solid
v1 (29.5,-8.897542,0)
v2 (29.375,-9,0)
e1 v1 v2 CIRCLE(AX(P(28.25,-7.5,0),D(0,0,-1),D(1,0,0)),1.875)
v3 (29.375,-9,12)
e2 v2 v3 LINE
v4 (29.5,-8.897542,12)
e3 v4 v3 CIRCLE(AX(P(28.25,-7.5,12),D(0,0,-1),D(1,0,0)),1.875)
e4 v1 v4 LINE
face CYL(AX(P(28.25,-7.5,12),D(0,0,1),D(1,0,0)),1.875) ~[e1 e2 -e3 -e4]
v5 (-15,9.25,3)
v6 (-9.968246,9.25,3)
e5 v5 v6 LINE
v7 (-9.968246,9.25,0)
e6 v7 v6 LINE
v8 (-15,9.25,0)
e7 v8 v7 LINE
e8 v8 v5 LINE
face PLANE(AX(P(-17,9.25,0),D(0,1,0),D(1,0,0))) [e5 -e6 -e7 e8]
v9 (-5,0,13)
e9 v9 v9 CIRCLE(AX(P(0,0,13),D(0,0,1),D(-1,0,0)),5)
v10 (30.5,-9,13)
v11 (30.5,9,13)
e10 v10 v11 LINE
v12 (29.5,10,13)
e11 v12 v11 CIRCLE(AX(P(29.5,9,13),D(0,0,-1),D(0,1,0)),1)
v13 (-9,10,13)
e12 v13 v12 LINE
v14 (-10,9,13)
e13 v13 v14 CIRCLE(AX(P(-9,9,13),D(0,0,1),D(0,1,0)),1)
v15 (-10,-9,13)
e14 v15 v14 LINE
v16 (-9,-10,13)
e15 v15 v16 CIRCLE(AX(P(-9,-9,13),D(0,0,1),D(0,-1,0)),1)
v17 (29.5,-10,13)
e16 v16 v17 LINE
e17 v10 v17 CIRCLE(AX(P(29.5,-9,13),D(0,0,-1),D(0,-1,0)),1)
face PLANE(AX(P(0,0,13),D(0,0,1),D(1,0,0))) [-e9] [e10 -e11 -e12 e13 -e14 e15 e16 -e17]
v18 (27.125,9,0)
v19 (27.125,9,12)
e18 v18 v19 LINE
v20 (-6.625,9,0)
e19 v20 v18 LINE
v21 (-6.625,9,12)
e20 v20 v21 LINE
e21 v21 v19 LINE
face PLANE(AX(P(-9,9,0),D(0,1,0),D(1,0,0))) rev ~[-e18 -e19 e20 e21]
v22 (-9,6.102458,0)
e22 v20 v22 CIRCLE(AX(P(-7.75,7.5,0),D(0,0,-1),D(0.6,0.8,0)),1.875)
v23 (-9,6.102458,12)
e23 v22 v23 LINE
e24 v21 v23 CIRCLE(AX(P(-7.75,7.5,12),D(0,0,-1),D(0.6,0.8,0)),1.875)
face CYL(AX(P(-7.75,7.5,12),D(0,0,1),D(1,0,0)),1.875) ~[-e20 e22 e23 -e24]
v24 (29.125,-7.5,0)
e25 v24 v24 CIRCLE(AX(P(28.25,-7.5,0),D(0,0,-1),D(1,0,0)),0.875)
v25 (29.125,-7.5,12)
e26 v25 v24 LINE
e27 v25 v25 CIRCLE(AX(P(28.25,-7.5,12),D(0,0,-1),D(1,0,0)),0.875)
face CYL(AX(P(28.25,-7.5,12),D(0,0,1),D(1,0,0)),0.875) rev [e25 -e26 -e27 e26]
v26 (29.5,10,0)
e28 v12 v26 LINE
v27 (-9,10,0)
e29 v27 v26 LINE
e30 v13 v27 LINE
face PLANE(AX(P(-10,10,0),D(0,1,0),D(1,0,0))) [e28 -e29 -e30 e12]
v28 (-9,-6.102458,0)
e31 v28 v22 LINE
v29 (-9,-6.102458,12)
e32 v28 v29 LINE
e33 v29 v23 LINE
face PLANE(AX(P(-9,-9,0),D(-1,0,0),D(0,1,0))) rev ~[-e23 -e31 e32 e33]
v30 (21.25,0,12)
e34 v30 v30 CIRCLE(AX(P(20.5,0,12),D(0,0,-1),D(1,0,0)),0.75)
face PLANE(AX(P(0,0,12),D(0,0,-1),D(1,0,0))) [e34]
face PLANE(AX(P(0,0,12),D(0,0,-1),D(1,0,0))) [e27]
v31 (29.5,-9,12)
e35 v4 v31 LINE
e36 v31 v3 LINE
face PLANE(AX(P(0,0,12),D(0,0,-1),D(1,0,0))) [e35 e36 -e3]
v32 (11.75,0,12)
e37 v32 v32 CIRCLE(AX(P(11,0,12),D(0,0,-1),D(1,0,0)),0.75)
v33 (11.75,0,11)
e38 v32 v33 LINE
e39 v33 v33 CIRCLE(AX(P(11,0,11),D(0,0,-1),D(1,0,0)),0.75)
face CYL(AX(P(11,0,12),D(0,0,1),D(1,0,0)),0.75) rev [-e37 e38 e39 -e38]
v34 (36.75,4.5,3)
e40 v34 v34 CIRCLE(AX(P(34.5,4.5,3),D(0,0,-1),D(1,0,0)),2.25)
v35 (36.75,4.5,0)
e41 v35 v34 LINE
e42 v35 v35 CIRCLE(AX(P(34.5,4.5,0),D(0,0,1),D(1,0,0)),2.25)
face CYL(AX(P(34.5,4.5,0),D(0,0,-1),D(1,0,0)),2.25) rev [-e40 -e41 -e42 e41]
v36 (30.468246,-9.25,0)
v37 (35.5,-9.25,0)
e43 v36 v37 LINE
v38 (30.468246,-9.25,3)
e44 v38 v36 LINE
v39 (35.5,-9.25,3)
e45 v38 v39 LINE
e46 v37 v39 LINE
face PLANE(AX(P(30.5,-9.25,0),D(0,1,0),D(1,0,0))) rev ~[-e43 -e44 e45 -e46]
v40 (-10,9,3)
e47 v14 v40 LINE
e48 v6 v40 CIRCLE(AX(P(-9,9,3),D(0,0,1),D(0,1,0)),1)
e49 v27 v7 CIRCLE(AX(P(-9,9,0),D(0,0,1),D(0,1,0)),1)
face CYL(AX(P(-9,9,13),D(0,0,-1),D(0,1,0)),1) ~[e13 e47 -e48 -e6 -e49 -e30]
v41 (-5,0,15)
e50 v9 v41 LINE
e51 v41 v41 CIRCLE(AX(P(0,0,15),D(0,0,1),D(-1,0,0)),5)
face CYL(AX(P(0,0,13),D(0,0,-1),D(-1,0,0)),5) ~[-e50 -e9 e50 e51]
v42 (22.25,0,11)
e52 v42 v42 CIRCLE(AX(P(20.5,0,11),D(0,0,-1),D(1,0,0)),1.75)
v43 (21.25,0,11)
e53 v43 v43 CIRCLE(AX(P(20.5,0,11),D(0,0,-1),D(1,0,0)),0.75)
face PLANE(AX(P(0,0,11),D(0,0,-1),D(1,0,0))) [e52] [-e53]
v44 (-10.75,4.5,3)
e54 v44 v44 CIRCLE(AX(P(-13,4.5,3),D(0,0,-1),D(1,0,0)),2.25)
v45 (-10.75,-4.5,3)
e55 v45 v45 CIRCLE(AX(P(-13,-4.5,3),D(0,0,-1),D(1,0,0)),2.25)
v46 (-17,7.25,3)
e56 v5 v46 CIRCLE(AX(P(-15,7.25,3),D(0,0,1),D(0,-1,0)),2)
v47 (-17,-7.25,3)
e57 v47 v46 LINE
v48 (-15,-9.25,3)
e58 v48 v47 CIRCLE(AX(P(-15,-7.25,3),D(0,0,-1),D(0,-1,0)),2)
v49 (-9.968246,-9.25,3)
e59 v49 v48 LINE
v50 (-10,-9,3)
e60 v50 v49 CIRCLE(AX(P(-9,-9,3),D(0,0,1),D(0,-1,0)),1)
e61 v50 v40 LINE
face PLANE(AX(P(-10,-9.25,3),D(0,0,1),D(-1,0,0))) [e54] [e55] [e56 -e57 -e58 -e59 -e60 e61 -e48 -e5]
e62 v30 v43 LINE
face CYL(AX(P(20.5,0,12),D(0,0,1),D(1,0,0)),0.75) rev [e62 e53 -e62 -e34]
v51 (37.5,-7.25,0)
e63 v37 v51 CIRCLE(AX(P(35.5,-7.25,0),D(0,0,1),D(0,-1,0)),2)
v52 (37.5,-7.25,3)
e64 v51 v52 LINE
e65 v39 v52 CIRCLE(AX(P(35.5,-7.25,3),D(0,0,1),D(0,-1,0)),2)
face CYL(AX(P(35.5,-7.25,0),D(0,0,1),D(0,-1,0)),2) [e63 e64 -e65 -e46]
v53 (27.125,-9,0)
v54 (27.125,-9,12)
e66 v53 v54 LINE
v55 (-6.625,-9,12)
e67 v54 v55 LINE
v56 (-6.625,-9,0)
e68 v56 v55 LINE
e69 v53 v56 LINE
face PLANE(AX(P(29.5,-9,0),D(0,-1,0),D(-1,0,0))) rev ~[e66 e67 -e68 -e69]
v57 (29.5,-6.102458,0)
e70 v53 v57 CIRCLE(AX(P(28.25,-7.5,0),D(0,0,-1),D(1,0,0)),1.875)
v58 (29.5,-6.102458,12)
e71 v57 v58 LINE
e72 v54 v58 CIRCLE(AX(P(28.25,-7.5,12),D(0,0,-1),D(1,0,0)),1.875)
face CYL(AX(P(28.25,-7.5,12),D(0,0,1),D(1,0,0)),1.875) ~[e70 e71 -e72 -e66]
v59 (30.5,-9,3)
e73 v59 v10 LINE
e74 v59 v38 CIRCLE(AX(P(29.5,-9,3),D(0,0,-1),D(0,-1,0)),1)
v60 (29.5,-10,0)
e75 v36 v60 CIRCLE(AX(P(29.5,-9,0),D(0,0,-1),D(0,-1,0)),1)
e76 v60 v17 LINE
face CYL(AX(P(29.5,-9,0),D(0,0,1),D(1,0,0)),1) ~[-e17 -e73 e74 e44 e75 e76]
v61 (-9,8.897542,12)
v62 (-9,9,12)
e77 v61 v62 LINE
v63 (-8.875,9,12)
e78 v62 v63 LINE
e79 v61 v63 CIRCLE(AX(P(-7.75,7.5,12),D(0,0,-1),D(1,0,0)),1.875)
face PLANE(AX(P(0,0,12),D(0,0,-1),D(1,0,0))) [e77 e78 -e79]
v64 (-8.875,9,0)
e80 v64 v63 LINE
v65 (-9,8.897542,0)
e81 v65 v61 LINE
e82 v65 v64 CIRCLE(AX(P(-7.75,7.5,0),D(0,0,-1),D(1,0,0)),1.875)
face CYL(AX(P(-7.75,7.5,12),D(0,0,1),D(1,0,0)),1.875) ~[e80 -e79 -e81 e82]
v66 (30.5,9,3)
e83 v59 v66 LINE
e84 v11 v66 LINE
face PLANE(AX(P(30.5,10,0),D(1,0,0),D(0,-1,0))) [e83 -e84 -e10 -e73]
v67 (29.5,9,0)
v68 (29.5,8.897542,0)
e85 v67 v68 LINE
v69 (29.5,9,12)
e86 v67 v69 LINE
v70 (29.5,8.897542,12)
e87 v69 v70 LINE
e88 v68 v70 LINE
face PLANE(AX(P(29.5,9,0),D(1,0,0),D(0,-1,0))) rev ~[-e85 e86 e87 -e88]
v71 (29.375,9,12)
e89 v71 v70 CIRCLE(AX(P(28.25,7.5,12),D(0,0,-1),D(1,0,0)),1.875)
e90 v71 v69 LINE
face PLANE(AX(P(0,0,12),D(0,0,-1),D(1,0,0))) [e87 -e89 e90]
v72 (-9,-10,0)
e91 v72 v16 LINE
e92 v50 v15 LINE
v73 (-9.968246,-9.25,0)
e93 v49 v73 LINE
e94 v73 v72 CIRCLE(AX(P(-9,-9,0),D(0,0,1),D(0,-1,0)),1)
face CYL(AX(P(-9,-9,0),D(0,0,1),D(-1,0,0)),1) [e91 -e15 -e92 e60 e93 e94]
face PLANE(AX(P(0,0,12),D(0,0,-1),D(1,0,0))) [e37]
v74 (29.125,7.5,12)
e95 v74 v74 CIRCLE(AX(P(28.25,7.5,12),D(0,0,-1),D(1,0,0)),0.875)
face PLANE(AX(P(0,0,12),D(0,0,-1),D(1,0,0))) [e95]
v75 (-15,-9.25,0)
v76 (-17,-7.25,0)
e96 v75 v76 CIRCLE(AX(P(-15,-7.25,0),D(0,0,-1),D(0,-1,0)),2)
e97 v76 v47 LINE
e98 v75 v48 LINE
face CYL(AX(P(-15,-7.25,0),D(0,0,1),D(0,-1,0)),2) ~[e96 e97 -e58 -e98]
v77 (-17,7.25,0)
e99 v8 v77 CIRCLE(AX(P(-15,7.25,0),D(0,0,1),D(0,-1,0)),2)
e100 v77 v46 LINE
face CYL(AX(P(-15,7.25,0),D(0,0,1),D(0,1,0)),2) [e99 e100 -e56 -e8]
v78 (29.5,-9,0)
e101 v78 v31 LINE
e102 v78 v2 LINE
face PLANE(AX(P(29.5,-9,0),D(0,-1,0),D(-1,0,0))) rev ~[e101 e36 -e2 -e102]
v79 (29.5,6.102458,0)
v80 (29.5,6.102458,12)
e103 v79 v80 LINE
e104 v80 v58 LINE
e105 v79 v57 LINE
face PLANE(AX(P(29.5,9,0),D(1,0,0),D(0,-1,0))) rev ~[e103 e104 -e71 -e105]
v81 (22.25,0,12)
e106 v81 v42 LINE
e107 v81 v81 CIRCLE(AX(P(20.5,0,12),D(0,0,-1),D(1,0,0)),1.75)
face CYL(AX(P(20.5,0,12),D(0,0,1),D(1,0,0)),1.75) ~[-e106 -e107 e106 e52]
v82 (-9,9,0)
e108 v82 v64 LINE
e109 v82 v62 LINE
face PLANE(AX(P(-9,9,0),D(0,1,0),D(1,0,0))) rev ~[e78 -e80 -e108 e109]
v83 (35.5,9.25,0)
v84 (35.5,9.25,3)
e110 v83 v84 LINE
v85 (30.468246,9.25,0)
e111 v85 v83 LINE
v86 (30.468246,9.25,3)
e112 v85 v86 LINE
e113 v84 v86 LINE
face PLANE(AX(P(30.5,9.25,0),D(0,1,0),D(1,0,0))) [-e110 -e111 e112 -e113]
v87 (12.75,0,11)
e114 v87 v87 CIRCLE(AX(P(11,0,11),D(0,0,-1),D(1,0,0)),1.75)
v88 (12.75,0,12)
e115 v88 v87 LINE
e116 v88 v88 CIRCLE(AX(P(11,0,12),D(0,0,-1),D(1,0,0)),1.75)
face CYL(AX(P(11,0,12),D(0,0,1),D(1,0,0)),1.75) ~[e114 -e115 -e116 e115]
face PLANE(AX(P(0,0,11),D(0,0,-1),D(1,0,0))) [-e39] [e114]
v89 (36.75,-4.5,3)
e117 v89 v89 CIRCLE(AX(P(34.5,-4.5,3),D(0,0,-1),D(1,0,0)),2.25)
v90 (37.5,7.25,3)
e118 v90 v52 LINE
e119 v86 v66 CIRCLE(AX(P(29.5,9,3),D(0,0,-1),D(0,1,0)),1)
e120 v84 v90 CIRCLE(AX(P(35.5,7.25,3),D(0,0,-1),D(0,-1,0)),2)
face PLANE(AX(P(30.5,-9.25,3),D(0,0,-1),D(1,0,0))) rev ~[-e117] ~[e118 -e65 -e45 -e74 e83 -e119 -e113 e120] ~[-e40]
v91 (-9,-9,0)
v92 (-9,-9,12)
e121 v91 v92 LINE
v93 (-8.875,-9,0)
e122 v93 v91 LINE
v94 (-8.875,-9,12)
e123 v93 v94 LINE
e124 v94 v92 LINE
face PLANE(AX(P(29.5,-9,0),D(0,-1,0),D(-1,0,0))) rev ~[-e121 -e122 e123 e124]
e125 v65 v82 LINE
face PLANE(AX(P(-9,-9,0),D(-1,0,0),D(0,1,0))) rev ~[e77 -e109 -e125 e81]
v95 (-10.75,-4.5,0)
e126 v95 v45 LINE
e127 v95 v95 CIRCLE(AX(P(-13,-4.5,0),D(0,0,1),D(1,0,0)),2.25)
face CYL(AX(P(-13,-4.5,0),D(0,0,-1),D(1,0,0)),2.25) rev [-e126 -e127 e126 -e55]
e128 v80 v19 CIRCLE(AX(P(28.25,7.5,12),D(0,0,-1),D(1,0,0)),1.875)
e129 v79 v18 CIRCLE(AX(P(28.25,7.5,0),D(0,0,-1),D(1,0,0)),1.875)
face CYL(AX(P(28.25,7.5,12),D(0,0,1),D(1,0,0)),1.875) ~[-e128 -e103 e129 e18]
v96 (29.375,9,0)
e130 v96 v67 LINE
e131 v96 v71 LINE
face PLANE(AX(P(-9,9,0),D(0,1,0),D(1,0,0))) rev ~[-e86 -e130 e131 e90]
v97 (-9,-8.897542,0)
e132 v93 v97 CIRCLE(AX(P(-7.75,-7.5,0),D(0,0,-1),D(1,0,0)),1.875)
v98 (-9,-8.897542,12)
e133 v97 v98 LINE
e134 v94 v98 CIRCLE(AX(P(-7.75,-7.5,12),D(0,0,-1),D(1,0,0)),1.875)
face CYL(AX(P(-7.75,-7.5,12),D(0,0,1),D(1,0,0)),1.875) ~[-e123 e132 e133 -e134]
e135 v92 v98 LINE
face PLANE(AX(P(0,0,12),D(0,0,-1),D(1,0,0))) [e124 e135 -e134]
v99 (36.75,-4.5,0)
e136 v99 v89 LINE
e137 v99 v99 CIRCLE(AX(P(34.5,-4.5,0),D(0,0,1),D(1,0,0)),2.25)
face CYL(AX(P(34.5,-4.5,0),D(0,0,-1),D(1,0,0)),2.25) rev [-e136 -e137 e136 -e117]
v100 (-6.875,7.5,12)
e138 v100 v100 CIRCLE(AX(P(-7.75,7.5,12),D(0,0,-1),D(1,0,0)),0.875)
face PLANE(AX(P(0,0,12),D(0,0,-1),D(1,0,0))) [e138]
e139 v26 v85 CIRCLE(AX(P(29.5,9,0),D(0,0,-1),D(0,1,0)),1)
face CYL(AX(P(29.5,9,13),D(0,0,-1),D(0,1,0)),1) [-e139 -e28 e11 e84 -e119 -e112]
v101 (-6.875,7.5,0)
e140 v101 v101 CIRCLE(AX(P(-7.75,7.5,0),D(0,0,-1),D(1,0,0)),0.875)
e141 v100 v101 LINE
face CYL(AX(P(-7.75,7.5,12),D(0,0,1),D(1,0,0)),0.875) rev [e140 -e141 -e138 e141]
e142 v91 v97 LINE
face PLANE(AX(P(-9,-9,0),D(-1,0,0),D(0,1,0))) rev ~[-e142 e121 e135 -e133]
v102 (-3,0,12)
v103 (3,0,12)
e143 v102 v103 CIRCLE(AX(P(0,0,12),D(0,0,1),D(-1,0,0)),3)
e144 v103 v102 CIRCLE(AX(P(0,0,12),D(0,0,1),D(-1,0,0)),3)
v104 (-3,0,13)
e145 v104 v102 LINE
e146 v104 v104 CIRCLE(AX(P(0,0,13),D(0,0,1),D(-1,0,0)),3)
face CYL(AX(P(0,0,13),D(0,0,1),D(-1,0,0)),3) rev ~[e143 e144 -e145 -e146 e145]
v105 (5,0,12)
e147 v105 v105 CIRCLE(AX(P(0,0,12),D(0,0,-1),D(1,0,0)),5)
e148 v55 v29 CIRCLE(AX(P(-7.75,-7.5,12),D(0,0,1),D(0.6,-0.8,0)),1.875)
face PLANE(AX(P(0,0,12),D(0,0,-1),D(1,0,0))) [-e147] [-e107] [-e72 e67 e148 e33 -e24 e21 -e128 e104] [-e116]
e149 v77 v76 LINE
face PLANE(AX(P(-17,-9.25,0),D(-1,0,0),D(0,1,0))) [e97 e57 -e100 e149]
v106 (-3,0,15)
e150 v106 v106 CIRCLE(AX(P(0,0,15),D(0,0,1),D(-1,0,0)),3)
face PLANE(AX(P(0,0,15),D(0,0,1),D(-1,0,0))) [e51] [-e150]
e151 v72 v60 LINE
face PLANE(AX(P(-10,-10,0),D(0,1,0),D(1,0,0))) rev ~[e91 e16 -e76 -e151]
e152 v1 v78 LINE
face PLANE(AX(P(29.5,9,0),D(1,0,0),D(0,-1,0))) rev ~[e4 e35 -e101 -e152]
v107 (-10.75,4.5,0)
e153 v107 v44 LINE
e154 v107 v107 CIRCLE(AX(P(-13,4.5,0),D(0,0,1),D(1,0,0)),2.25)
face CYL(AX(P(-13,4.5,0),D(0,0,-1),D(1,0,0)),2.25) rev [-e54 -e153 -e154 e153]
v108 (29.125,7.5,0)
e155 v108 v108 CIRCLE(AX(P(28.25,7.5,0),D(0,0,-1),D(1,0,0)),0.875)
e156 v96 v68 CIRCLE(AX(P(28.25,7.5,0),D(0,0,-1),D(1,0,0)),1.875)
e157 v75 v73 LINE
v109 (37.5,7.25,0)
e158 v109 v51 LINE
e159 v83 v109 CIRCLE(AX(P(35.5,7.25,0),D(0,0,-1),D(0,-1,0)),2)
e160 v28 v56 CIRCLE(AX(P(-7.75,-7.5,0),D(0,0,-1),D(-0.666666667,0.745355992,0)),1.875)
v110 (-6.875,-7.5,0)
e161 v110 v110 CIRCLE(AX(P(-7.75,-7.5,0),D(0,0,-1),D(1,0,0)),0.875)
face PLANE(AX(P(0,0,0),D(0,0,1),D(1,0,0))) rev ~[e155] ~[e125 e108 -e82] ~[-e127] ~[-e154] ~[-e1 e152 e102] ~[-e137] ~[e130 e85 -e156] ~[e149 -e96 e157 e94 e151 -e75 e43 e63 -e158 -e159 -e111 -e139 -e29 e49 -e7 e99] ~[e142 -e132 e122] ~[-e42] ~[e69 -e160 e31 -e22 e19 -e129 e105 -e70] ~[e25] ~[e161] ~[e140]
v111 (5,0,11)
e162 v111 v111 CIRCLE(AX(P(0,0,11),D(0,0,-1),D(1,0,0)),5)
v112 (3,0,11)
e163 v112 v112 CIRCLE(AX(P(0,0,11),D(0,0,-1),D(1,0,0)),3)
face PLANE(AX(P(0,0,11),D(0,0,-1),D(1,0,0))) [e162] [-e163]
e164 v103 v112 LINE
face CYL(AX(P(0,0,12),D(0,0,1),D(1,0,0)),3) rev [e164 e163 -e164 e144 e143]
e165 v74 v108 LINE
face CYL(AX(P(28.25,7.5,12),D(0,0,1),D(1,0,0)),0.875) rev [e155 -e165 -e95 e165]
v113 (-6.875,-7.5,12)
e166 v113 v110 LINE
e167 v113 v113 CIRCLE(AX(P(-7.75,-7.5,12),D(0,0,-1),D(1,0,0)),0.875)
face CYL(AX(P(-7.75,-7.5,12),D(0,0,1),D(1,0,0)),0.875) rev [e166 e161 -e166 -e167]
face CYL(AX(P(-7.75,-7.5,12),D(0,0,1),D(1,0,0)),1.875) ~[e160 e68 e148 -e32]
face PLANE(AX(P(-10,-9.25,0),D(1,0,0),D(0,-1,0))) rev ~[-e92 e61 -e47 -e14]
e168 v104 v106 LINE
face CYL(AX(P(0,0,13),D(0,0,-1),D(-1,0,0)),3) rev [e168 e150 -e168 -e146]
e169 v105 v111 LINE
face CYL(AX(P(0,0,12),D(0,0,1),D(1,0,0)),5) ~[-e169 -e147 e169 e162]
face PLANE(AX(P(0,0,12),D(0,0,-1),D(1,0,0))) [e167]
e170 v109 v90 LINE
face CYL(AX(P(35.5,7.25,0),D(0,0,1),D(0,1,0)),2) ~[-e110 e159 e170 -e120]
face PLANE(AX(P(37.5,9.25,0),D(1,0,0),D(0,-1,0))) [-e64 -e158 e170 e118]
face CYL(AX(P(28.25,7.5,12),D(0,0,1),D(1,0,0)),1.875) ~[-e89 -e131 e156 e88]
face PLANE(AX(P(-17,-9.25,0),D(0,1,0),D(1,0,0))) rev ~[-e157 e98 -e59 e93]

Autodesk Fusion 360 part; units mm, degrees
sketch "Sketch1" plane through (0, 0, 0) normal (0, 0, 1) x (1, 0, 0)
  line L0 (-19.8608, 0) -> (46.1392, 0) construction
  line L1 (-17, -9.25) -> (-10, -9.25)
  line L2 (-10, -9.25) -> (-10, -10)
  line L3 (-10, -10) -> (30.5, -10)
  line L4 (30.5, -10) -> (30.5, -9.25)
  line L5 (30.5, -9.25) -> (37.5, -9.25)
  line L6 (37.5, -9.25) -> (37.5, 0)
  circle A0 centre (-13, -4.5) radius 2.25
  line L7 (-17, -9.25) -> (-17, 0)
  circle A1 centre (34.5, -4.5) radius 2.25
  line L8 (30.5, 10) -> (30.5, 9.25)
  line L9 (-10, 9.25) -> (-10, 10)
  line L10 (-17, 9.25) -> (-17, 0)
  line L11 (37.5, 9.25) -> (37.5, 0)
  line L12 (30.5, 9.25) -> (37.5, 9.25)
  circle A2 centre (-13, 4.5) radius 2.25
  line L13 (-10, 10) -> (30.5, 10)
  line L14 (-17, 9.25) -> (-10, 9.25)
  circle A3 centre (34.5, 4.5) radius 2.25
  point P0 (46.1392, 0)
  point P1 (-19.8608, 0)
  dimension "d1" = 4.5
  dimension "d2" = 10
  dimension "d3" = 4.5
  dimension "d4" = 47.5
  dimension "d5" = 7
  dimension "d6" = 7
  dimension "d7" = 4
  dimension "d8" = 4
  dimension "d9" = 4.5
  dimension "d10" = 4.5
  dimension "d11" = 10
  dimension "d12" = 10
  dimension "d13" = 9.25
  dimension "d14" = 9.25
extrude "Extrude1" add sketch "Sketch1" along normal blind 13
sketch "Sketch3" plane through (0, -9.25, 0) normal (0, -1, 0) x (1, 0, 0)
  line L0 (30.5, 0) -> (37.5, 0)
  line L1 (37.5, 0) -> (37.5, 13)
  line L2 (37.5, 13) -> (30.5, 13)
  line L3 (30.5, 13) -> (30.5, 0)
  line L4 (37.5, 0) -> (30.5, 0)
  line L5 (30.5, 0) -> (30.5, 3)
  line L6 (30.5, 3) -> (37.5, 3)
  line L7 (37.5, 3) -> (37.5, 0)
  line L8 (-10, 0) -> (-17, 0)
  line L9 (-17, 0) -> (-17, 3)
  line L10 (-17, 3) -> (-10, 3)
  line L11 (-10, 3) -> (-10, 0)
  dimension "d21" = 3
  dimension "d22" = 3
extrude "Extrude3" cut sketch "Sketch3" against normal blind 26 contours L1 L2 L3 L6
sketch "Sketch4" plane through (0, -9.25, 0) normal (0, -1, 0) x (1, 0, 0)
  line L0 (-17, 0) -> (-10, 0)
  line L1 (-10, 0) -> (-10, 13)
  line L2 (-10, 13) -> (-17, 13)
  line L3 (-17, 13) -> (-17, 0)
  line L4 (-17, 0) -> (-10, 0)
  line L5 (-10, 0) -> (-10, 3)
  line L6 (-10, 3) -> (-17, 3)
  line L7 (-17, 3) -> (-17, 0)
  dimension "d25" = 3
extrude "Extrude4" cut sketch "Sketch4" against normal blind 22 contours L1 L2 L3 L6
sketch "Sketch5" plane through (0, 0, 13) normal (0, 0, 1) x (-1, 0, 0)
  line L0 (10, -10) -> (10, 10)
  line L1 (10, 10) -> (-30.5, 10)
  line L2 (-30.5, 10) -> (-30.5, -10)
  line L3 (-30.5, -10) -> (10, -10)
  circle A0 centre (0, 0) radius 3
  dimension "d28" = 6
extrude "Extrude5" cut sketch "Sketch5" against normal blind 21 contours A0
sketch "Sketch6" plane through (0, 0, 0) normal (0, 0, -1) x (-1, 0, 0)
  circle A0 centre (0, 0) radius 3
  line L0 (10, -10) -> (10, 10)
  line L1 (10, 10) -> (-33, 10)
  line L2 (-33, 10) -> (-33, -10)
  line L3 (-33, -10) -> (10, -10)
  circle A1 centre (-11, 0) radius 0.75
  circle A2 centre (-20.5, 0) radius 0.75
  circle A3 centre (0, 0) radius 3
  circle A4 centre (-34.5, 4.5) radius 2.25
  circle A5 centre (13, -4.5) radius 2.25
  circle A6 centre (-34.5, -4.5) radius 2.25
  circle A7 centre (13, 4.5) radius 2.25
  line L4 (10, -9.25) -> (17, -9.25)
  line L5 (17, -9.25) -> (17, 9.25)
  line L6 (17, 9.25) -> (10, 9.25)
  line L7 (10, 9.25) -> (10, 10)
  line L8 (10, 10) -> (-30.5, 10)
  line L9 (-30.5, 10) -> (-30.5, 9.25)
  line L10 (-30.5, 9.25) -> (-37.5, 9.25)
  line L11 (-37.5, 9.25) -> (-37.5, -9.25)
  line L12 (-37.5, -9.25) -> (-30.5, -9.25)
  line L13 (-30.5, -9.25) -> (-30.5, -10)
  line L14 (-30.5, -10) -> (10, -10)
  line L15 (10, -10) -> (10, -9.25)
  dimension "d31" = 1.5
  dimension "d32" = 1.5
  dimension "d33" = 11
  dimension "d34" = 9.5
extrude "Extrude6" cut sketch "Sketch6" against normal blind 12 contours A1 | A2
sketch "Sketch7" plane through (0, 0, 0) normal (0, 0, -1) x (1, 0, 0)
  circle A0 centre (11, 0) radius 0.75
  circle A1 centre (20.5, 0) radius 0.75
  circle A2 centre (0, 0) radius 3
  circle A3 centre (34.5, -4.5) radius 2.25
  circle A4 centre (-13, 4.5) radius 2.25
  circle A5 centre (34.5, 4.5) radius 2.25
  circle A6 centre (-13, -4.5) radius 2.25
  line L0 (-10, 9.25) -> (-17, 9.25)
  line L1 (-17, 9.25) -> (-17, -9.25)
  line L2 (-17, -9.25) -> (-10, -9.25)
  line L3 (-10, -9.25) -> (-10, -10)
  line L4 (-10, -10) -> (30.5, -10)
  line L5 (30.5, -10) -> (30.5, -9.25)
  line L6 (30.5, -9.25) -> (37.5, -9.25)
  line L7 (37.5, -9.25) -> (37.5, 9.25)
  line L8 (37.5, 9.25) -> (30.5, 9.25)
  line L9 (30.5, 9.25) -> (30.5, 10)
  line L10 (30.5, 10) -> (-10, 10)
  line L11 (-10, 10) -> (-10, 9.25)
  line L12 (29.5, 9) -> (-9, 9)
  line L13 (-9, 9) -> (-9, -9)
  line L14 (-9, -9) -> (29.5, -9)
  line L15 (29.5, -9) -> (29.5, 9)
  line L16 (29.5, 9) -> (-9, -9) construction
  line L17 (-9, 9) -> (29.5, -9) construction
  point P0 (10.25, 0)
  dimension "d37" = 1
  dimension "d38" = 1
  dimension "d39" = 1
  dimension "d40" = 1
extrude "Extrude7" cut sketch "Sketch7" against normal blind 12 contours L12 L13 L14 L15
sketch "Sketch8" plane through (0, 0, 12) normal (0, 0, -1) x (1, 0, 0)
  circle A0 centre (0, 0) radius 3
  line L0 (29.5, -9) -> (29.5, 9)
  line L1 (29.5, 9) -> (-9, 9)
  line L2 (-9, 9) -> (-9, -9)
  line L3 (-9, -9) -> (29.5, -9)
  circle A1 centre (11, 0) radius 0.75
  circle A2 centre (20.5, 0) radius 0.75
  circle A3 centre (11, 0) radius 1.75
  circle A4 centre (20.5, 0) radius 1.75
  dimension "d43" = 1.5
  dimension "d44" = 1.5
  dimension "d45" = 9.5
  dimension "d46" = 11
  dimension "d47" = 3.5
  dimension "d48" = 3.5
extrude "Extrude8" add sketch "Sketch8" along normal blind 1 contours A3 | A4
sketch "Sketch9" plane through (0, 0, 12) normal (0, 0, -1) x (1, 0, 0)
  circle A0 centre (11, 0) radius 1.75
  circle A1 centre (0, 0) radius 3
  line L0 (29.5, -9) -> (29.5, 9)
  line L1 (29.5, 9) -> (-9, 9)
  line L2 (-9, 9) -> (-9, -9)
  line L3 (-9, -9) -> (29.5, -9)
  circle A2 centre (20.5, 0) radius 1.75
  circle A3 centre (0, 0) radius 3
  circle A4 centre (0, 0) radius 5
  dimension "d51" = 2
extrude "Extrude9" add sketch "Sketch9" along normal blind 1 contours A4
sketch "Sketch10" plane through (0, 0, 13) normal (0, 0, 1) x (-1, 0, 0)
  circle A0 centre (0, 0) radius 3
  line L0 (10, -10) -> (10, 10)
  line L1 (10, 10) -> (-30.5, 10)
  line L2 (-30.5, 10) -> (-30.5, -10)
  line L3 (-30.5, -10) -> (10, -10)
  circle A1 centre (0, 0) radius 3
  circle A2 centre (0, 0) radius 5
  dimension "d54" = 2
extrude "Extrude10" add sketch "Sketch10" along normal blind 2 contours A2
fillet "Fillet1" radius 1 4 edges at (30.5, -10, 6.5) (30.5, 10, 6.5) (-10, -10, 6.5) (-10, 10, 6.5)
fillet "Fillet2" radius 2 4 edges at (37.5, -9.25, 1.5) (37.5, 9.25, 1.5) (-17, -9.25, 1.5) (-17, 9.25, 1.5)
sketch "Sketch11" plane through (0, 0, 12) normal (0, 0, -1) x (1, 0, 0)
  circle A0 centre (0, 0) radius 5 construction
  circle A1 centre (11, 0) radius 1.75 construction
  line L0 (29.5, -9) -> (29.5, 9) construction
  line L1 (29.5, 9) -> (-9, 9) construction
  line L2 (-9, 9) -> (-9, -9) construction
  line L3 (-9, -9) -> (29.5, -9) construction
  circle A2 centre (20.5, 0) radius 1.75 construction
  line L4 (28.25, -7.5) -> (-7.75, -7.5) construction
  line L5 (-7.75, -7.5) -> (-7.75, 7.5) construction
  line L6 (-7.75, 7.5) -> (28.25, 7.5) construction
  line L7 (28.25, 7.5) -> (28.25, -7.5) construction
  circle A3 centre (-7.75, 7.5) radius 0.875
  circle A4 centre (-7.75, -7.5) radius 0.875
  circle A5 centre (28.25, 7.5) radius 0.875
  circle A6 centre (28.25, -7.5) radius 0.875
  circle A7 centre (28.25, 7.5) radius 1.875
  circle A8 centre (28.25, -7.5) radius 1.875
  circle A9 centre (-7.75, -7.5) radius 1.875
  circle A10 centre (-7.75, 7.5) radius 1.875
  line L8 (-9, 10) -> (29.5, 10)
  line L9 (-9, -10) -> (29.5, -10)
  dimension "d63" = 1.25
  dimension "d66" = 1.75
  dimension "d67" = 1
  dimension "d70" = 36
  dimension "d71" = 15
  dimension "d73" = 2.5
  dimension "d74" = 2.5
  dimension "d75" = 1.25
  dimension "d76" = 1.25
extrude "Extrude11" add sketch "Sketch11" along normal blind 12
equation "d13 = ( 18.5 / 2 ) * 1 mm"
equation "d14 = ( 18.5 / 2 ) * 1 mm"
